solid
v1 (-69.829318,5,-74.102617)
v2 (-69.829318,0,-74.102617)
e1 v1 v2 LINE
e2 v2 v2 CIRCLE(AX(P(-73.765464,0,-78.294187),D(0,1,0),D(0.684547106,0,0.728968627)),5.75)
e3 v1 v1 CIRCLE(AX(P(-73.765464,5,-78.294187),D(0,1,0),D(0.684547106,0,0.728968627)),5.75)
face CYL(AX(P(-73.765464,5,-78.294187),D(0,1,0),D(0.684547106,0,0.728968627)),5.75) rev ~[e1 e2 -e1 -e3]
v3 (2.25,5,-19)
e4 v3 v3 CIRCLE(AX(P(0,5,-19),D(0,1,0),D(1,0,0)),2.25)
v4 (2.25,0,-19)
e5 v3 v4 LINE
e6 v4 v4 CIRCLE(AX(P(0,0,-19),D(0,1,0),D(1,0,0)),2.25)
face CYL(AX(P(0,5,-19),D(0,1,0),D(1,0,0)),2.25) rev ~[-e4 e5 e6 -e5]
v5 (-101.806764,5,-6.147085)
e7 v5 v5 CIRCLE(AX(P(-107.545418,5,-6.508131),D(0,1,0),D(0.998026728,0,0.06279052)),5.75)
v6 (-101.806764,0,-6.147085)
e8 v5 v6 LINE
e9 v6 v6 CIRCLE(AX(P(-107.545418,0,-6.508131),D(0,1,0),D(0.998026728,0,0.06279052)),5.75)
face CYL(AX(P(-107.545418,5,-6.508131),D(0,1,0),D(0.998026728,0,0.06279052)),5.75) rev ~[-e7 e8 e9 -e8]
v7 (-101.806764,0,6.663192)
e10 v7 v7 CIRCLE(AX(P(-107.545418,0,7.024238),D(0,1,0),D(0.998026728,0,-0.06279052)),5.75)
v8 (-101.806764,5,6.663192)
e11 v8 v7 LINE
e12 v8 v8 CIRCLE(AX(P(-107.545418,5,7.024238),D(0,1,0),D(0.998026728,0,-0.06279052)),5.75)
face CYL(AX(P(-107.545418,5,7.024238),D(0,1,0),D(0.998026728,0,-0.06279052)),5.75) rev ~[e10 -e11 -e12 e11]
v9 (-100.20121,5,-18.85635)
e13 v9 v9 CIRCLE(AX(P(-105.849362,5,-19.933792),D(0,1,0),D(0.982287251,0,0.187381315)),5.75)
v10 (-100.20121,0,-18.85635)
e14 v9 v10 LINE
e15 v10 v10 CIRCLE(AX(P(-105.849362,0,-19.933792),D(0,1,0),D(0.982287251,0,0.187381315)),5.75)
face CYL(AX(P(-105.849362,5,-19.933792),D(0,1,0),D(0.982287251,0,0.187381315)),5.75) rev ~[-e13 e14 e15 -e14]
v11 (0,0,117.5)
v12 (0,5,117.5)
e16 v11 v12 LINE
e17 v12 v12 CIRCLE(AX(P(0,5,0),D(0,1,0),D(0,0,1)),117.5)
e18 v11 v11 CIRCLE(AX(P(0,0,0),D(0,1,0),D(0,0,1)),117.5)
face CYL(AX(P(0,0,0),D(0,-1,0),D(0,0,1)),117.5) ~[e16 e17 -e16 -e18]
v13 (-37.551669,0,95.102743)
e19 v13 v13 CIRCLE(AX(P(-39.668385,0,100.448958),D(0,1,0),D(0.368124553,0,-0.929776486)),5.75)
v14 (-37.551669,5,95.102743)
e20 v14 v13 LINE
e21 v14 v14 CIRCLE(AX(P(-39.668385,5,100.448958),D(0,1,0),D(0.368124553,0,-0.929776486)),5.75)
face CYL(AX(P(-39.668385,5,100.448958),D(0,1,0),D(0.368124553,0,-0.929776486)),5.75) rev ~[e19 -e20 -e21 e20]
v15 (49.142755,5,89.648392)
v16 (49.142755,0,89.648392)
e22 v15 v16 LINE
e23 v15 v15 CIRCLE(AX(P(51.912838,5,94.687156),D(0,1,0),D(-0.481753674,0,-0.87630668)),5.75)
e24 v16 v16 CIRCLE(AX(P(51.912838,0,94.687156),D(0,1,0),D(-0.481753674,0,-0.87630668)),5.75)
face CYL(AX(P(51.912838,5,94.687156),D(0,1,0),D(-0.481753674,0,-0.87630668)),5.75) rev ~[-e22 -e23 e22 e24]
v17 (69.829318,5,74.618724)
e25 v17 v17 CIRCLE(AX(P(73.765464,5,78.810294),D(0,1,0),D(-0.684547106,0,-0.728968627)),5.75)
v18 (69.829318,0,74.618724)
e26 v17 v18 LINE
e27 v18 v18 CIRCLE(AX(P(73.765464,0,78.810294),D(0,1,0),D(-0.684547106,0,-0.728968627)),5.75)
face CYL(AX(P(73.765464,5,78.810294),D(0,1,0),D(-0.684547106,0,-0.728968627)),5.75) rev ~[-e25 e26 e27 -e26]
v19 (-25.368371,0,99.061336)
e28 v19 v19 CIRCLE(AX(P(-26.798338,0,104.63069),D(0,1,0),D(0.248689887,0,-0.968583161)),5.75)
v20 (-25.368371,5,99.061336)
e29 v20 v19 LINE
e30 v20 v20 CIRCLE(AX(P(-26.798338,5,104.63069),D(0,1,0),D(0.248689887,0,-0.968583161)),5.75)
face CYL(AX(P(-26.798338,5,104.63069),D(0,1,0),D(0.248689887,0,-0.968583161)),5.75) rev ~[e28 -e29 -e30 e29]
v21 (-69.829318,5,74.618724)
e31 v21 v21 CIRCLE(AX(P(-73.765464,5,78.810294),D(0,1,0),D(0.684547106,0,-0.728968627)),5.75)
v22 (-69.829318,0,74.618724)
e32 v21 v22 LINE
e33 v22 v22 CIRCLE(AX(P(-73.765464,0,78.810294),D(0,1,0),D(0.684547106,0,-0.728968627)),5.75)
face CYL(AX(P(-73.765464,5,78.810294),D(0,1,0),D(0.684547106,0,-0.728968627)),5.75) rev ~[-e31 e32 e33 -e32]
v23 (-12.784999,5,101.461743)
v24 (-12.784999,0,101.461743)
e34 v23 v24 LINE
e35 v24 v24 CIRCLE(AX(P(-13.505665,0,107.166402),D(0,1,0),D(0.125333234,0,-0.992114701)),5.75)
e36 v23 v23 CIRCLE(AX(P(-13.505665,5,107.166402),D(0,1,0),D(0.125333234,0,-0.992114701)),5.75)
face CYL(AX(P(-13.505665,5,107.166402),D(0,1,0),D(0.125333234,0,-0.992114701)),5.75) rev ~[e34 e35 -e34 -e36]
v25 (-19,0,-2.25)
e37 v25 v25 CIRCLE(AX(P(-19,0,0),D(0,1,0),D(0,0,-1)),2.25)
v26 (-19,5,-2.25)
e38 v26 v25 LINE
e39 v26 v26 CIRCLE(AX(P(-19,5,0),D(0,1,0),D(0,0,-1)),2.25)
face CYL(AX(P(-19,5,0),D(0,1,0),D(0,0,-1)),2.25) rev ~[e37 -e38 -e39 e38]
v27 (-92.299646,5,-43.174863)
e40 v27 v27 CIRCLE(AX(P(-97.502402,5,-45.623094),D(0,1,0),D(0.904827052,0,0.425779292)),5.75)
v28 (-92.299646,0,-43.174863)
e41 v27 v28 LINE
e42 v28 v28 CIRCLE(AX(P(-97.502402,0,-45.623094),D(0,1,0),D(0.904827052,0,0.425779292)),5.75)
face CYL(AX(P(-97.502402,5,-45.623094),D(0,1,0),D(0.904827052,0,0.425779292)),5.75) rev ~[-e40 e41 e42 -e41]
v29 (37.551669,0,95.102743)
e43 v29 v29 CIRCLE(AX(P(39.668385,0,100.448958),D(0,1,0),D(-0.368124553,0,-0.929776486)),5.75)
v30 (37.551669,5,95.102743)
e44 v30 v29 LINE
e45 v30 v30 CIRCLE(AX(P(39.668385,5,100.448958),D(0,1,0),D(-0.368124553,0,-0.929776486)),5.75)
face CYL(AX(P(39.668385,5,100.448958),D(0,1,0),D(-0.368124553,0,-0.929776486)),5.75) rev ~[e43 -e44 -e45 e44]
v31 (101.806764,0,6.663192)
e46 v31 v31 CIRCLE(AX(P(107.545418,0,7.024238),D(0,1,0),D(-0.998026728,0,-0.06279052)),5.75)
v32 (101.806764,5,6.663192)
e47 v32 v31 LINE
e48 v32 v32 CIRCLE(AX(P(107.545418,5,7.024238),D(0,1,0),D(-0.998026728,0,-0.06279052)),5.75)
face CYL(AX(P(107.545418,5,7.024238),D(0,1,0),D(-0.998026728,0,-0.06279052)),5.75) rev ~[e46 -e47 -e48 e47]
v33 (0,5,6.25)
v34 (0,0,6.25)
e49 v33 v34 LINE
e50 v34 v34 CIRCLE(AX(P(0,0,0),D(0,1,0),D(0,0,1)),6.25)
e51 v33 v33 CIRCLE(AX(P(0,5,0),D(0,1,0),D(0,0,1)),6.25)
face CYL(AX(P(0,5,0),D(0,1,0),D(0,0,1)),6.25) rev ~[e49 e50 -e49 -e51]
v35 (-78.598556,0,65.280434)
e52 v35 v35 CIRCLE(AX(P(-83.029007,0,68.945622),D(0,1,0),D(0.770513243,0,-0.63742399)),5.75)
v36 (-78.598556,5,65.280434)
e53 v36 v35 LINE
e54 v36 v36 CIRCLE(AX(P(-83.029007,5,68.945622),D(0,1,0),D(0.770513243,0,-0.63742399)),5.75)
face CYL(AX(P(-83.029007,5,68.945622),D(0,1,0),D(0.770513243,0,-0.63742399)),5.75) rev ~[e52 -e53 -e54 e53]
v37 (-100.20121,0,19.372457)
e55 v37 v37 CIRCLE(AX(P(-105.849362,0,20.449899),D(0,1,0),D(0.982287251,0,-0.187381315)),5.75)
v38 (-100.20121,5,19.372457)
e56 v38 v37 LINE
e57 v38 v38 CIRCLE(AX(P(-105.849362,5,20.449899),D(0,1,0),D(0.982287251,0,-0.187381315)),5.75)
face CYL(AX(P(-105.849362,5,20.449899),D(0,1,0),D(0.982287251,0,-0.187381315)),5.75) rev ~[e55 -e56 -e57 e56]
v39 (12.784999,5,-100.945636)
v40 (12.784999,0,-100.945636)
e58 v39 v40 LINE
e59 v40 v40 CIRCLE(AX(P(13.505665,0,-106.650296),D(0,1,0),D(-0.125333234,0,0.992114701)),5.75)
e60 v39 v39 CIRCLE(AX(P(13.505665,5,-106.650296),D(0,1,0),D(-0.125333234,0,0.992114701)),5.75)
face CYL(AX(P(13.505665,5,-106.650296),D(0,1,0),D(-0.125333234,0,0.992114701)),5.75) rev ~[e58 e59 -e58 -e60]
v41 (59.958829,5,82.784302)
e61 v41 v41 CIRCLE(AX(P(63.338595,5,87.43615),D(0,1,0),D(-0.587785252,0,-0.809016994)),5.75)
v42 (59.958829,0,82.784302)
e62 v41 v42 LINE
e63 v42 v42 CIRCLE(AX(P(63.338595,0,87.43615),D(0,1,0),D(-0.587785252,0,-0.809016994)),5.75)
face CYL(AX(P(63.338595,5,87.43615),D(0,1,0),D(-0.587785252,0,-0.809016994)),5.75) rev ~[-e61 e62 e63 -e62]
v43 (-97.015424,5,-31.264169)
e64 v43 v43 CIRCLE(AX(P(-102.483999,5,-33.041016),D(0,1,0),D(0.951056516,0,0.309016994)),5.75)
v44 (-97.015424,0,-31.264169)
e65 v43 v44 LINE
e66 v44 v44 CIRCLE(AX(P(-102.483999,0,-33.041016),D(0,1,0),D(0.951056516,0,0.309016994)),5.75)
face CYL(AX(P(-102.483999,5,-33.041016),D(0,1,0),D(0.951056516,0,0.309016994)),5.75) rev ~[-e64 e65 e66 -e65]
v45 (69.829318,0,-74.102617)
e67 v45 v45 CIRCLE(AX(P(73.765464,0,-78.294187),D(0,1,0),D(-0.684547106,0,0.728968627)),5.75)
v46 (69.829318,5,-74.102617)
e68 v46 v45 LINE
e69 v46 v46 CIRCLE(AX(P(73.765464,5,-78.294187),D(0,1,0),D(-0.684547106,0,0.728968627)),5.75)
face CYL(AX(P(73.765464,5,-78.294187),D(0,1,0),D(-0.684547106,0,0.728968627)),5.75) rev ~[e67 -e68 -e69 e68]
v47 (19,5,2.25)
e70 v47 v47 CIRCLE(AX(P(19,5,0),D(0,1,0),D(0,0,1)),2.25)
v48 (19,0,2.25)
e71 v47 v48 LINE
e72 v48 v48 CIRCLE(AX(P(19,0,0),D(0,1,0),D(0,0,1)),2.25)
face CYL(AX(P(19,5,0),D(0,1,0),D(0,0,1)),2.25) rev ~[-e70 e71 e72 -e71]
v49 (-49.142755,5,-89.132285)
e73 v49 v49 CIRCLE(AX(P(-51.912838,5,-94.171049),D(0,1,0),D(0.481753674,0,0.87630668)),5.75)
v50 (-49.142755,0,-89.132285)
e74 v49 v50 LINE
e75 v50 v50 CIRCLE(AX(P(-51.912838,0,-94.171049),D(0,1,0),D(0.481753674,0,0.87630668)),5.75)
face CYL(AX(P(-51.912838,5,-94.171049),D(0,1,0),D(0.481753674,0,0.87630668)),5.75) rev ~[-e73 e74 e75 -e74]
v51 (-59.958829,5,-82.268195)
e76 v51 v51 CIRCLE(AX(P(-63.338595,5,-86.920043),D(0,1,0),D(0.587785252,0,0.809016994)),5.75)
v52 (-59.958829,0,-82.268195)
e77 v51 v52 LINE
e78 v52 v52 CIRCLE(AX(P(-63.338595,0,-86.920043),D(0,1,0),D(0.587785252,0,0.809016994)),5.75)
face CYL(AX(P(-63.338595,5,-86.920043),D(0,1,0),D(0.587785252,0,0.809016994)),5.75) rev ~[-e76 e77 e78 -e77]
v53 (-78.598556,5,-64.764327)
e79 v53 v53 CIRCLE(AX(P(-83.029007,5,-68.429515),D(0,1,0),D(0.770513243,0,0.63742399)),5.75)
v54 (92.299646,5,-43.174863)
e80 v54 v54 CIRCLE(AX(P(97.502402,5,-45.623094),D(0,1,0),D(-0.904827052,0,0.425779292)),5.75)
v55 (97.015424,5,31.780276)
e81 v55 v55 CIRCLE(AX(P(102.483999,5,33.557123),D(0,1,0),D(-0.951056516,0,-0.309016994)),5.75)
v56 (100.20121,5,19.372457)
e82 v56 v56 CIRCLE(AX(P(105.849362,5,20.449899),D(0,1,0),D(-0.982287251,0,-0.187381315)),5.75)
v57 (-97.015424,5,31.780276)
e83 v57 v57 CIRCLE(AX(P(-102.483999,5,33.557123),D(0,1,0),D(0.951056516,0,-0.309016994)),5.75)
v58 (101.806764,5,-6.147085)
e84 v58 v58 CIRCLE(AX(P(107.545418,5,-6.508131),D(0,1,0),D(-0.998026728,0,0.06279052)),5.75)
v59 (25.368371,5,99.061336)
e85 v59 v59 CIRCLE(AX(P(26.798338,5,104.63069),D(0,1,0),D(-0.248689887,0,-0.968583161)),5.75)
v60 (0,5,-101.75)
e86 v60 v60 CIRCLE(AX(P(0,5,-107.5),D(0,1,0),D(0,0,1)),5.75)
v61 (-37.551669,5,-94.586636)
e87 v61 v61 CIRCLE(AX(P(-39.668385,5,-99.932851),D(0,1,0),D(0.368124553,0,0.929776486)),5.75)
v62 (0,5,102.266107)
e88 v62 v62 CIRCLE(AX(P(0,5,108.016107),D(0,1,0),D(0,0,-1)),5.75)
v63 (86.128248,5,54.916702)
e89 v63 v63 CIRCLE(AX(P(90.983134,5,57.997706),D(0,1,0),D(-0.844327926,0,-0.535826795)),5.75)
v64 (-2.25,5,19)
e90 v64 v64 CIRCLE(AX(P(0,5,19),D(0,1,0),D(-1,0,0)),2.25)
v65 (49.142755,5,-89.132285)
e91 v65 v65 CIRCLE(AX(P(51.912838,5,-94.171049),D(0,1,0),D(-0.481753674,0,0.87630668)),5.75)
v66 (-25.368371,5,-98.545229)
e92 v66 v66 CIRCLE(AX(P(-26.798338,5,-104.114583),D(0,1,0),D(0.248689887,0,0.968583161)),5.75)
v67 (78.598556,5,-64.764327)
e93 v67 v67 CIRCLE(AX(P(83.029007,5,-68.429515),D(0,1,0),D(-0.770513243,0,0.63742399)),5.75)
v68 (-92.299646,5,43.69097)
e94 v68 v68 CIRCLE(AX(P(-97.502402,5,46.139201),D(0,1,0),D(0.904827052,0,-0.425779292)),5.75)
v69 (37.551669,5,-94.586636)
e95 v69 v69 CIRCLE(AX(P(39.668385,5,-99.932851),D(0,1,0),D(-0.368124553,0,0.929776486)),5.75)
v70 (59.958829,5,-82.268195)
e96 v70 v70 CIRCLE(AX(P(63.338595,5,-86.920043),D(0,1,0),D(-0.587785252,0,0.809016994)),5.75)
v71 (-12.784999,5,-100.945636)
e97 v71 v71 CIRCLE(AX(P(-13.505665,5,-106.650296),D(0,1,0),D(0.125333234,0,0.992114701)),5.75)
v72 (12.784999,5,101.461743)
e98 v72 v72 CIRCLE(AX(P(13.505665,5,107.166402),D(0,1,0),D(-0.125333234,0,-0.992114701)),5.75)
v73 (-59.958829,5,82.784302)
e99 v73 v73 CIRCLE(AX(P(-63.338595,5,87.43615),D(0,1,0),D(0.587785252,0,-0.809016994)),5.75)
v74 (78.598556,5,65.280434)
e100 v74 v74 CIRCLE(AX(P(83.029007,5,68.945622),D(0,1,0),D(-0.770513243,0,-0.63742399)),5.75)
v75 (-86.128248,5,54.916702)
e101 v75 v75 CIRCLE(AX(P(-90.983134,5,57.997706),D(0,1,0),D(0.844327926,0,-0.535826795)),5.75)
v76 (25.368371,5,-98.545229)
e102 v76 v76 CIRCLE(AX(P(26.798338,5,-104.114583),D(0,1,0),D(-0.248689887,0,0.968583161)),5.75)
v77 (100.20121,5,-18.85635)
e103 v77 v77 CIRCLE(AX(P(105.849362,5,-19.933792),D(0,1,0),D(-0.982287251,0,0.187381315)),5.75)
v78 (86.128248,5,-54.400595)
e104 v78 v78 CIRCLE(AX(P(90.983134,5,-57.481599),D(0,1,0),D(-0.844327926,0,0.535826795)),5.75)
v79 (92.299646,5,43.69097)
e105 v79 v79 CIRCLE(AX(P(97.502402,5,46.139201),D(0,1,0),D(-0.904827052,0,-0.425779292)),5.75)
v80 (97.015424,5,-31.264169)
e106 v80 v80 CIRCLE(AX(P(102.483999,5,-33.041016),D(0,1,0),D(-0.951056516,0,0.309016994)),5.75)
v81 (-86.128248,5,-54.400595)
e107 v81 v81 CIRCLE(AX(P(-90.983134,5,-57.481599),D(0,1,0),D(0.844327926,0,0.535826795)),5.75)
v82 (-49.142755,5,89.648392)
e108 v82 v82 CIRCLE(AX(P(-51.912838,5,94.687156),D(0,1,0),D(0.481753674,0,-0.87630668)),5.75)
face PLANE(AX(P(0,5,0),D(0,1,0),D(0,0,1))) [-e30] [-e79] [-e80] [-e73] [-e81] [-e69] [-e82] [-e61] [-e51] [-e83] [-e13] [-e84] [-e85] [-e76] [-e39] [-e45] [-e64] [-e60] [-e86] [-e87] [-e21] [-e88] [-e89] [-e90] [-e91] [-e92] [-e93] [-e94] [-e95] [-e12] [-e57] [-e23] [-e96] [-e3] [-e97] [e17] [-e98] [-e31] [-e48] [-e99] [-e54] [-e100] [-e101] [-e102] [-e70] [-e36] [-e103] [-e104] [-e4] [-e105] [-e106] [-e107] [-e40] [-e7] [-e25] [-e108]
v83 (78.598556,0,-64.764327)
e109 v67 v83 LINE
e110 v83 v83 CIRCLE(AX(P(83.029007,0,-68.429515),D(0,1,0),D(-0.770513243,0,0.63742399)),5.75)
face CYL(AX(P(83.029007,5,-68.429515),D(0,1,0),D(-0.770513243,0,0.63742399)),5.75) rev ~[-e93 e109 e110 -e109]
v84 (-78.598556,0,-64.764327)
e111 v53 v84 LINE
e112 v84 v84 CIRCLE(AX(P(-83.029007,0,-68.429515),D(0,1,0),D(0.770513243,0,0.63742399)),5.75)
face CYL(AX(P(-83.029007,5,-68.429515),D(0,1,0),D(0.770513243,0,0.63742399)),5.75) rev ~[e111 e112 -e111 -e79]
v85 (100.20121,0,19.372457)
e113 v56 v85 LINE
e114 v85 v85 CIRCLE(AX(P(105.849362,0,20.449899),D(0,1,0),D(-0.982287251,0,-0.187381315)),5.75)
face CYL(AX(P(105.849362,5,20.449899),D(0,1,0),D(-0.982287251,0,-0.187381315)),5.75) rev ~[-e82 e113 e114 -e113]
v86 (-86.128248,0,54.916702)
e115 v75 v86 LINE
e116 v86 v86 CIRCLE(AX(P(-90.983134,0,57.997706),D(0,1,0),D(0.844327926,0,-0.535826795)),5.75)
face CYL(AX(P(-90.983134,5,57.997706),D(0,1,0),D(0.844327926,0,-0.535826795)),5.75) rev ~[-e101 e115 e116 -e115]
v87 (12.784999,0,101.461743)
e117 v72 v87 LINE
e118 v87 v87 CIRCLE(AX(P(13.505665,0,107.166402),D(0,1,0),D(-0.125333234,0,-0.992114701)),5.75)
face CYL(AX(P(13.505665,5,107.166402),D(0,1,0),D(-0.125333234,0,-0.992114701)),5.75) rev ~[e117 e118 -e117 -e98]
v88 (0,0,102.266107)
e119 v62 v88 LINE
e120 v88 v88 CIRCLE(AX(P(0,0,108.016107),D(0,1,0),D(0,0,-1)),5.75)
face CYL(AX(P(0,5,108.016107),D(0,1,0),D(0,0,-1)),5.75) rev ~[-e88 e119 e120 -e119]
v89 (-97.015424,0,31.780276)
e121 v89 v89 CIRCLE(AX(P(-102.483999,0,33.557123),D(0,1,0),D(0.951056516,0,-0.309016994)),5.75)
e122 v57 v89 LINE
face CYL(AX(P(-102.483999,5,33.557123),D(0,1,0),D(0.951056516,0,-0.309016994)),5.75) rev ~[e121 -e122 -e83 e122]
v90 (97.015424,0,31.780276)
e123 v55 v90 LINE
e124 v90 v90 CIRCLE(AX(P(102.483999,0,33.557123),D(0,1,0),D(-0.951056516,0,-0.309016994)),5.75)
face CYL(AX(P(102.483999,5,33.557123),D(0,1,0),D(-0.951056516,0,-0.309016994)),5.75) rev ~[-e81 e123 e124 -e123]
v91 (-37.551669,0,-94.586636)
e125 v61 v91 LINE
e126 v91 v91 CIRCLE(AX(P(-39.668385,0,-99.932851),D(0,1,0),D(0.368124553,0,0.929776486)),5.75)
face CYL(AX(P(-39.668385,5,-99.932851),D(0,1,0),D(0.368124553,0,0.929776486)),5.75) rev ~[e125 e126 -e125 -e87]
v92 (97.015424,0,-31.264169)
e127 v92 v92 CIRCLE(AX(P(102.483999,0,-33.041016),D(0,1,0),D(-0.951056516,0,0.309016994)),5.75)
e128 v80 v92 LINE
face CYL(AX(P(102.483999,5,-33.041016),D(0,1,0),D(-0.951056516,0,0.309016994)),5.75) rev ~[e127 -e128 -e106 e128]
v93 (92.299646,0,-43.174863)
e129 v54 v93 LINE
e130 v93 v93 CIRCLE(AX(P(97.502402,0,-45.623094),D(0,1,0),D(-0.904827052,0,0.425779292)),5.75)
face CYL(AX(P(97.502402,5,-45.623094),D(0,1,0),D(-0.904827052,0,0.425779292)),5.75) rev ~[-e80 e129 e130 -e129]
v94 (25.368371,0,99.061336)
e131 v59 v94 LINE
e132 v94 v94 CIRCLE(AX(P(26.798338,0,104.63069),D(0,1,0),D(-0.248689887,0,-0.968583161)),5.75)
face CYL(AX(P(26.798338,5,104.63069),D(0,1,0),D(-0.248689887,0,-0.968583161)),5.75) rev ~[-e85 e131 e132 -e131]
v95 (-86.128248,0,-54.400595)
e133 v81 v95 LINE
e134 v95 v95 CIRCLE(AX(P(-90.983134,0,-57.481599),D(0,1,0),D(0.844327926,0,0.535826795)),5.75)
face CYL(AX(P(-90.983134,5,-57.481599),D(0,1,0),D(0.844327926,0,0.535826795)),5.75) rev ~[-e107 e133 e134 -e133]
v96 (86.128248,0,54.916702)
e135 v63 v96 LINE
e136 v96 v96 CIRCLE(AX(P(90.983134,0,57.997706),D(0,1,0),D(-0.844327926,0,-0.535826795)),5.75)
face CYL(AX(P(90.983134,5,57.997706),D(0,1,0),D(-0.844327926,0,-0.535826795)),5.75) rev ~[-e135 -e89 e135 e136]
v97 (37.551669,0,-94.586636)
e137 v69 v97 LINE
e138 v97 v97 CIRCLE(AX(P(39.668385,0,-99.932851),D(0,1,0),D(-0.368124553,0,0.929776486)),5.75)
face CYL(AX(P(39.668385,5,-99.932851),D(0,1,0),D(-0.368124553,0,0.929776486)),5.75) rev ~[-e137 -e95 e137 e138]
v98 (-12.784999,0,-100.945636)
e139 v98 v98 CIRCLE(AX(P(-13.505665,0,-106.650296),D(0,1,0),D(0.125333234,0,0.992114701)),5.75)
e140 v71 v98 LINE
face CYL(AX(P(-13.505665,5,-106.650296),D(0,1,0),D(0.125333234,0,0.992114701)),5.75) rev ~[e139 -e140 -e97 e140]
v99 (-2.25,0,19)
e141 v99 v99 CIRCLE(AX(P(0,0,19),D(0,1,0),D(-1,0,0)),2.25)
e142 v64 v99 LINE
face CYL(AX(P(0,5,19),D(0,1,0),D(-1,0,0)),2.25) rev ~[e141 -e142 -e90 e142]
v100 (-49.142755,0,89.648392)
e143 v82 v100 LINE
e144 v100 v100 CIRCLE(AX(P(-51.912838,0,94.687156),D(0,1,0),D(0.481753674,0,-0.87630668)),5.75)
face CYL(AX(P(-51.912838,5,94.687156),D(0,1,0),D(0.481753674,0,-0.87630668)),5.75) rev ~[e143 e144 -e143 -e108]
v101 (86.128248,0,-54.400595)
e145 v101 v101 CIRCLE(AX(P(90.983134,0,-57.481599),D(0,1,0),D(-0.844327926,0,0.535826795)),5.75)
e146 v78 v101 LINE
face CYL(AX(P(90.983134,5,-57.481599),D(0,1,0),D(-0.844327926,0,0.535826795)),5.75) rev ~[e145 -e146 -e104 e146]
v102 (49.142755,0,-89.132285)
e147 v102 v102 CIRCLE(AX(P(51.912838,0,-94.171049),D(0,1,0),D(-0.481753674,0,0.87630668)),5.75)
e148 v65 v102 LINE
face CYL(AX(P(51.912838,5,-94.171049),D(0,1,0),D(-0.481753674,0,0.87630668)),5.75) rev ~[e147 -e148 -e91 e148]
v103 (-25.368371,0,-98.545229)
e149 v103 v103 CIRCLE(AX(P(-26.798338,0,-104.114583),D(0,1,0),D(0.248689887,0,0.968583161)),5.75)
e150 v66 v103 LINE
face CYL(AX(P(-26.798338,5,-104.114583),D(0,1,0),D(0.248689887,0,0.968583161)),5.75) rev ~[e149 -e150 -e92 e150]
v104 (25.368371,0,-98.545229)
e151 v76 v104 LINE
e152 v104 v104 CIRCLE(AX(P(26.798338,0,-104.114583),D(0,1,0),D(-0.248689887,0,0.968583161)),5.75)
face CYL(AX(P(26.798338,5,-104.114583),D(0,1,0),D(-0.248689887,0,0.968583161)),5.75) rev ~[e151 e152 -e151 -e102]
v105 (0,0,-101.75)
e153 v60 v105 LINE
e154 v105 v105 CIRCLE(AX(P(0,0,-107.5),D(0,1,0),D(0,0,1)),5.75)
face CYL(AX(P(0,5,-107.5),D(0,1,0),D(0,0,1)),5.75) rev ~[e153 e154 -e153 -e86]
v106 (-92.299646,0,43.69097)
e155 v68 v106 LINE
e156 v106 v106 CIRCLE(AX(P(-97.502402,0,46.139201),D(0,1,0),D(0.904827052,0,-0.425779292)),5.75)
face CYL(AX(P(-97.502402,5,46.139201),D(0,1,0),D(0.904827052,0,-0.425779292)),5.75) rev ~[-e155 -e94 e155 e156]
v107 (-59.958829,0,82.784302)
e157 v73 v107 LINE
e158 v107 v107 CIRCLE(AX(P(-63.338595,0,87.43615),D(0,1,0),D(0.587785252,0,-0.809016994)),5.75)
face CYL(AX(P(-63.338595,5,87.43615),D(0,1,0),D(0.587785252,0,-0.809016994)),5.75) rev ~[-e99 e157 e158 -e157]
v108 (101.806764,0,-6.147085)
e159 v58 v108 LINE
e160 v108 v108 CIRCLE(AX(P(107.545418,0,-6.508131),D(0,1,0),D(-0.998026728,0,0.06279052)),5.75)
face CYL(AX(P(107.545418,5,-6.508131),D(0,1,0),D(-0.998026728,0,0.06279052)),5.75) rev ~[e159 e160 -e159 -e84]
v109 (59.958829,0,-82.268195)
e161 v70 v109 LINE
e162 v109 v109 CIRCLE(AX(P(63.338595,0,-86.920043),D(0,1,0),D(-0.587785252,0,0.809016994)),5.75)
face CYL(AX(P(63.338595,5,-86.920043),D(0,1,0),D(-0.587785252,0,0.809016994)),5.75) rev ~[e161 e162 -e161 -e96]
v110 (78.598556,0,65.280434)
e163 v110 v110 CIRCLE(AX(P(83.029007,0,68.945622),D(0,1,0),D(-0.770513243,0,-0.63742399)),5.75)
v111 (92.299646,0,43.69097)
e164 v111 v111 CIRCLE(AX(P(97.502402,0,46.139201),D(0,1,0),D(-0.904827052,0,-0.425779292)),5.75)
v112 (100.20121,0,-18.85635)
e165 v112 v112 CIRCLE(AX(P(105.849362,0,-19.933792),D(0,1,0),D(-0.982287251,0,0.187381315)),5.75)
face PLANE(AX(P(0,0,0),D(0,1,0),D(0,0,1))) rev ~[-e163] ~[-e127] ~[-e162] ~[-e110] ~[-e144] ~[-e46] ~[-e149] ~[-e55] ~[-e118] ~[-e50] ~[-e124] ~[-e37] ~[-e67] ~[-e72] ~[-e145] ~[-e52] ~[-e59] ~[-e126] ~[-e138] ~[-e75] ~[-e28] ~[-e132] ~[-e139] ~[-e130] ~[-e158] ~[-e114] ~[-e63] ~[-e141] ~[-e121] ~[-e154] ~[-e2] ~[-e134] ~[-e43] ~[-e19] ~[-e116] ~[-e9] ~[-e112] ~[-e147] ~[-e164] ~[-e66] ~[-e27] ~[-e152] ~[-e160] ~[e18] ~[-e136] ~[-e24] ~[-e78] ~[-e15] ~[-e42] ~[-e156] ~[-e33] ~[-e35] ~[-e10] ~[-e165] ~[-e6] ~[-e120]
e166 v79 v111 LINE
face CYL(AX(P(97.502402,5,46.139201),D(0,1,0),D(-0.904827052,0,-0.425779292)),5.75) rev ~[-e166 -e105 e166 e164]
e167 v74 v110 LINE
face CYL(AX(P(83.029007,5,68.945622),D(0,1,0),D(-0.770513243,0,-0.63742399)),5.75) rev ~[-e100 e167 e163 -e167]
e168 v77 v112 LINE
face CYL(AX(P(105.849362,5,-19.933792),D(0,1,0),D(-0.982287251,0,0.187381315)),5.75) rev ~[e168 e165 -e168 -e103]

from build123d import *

# Parameters (mm, degrees)
SKETCH1_R           = 117.5
BOSS_EXTRUDE1_DEPTH = 5
SKETCH2_R           = 5.75
CUT_EXTRUDE1_DEPTH  = 167.245300685
CIRPATTERN1_COUNT   = 50
SKETCH3_R           = 6.25
CUT_EXTRUDE2_DEPTH  = 167.245300685
SKETCH4_R           = 2.25
CUT_EXTRUDE3_DEPTH  = 167.245300685
CIRPATTERN2_COUNT   = 4


with BuildPart() as part:
    # Sketch1 → Boss-Extrude1 (new body)
    with BuildSketch(Plane(origin=(0, 0, 0), x_dir=(1, 0, 0), z_dir=(0, 1, 0))):
        with Locations(Location((0, 0, 0), (0, 0, 270))):
            Circle(SKETCH1_R)
    extrude(amount=BOSS_EXTRUDE1_DEPTH)

    # Sketch2 → Cut-Extrude1 (cut, through all)
    with BuildSketch(Plane(origin=(0, 5, 0), x_dir=(1, 0, 0), z_dir=(0, 1, 0))):
        with Locations(Location((0, 107.5, 0), (0, 0, 270))):
            Circle(SKETCH2_R)
    cut_extrude1 = extrude(amount=-CUT_EXTRUDE1_DEPTH, mode=Mode.SUBTRACT)

    # CirPattern1: Cut-Extrude1 ×50 about axis
    cirpattern1_axis = Axis((0, 0, 0.258053464), (0, 1, 0))
    for i in range(1, CIRPATTERN1_COUNT):
        add(cut_extrude1.rotate(cirpattern1_axis, i * 360 / CIRPATTERN1_COUNT), mode=Mode.SUBTRACT)

    # Sketch3 → Cut-Extrude2 (cut, through all)
    with BuildSketch(Plane(origin=(0, 5, 0), x_dir=(1, 0, 0), z_dir=(0, 1, 0))):
        with Locations(Location((0, 0, 0), (0, 0, 270))):
            Circle(SKETCH3_R)
    extrude(amount=-CUT_EXTRUDE2_DEPTH, mode=Mode.SUBTRACT)

    # Sketch4 → Cut-Extrude3 (cut, through all)
    with BuildSketch(Plane(origin=(0, 5, 0), x_dir=(1, 0, 0), z_dir=(0, 1, 0))):
        with Locations(Location((19, 0, 0), (0, 0, 270))):
            Circle(SKETCH4_R)
    cut_extrude3 = extrude(amount=-CUT_EXTRUDE3_DEPTH, mode=Mode.SUBTRACT)

    # CirPattern2: Cut-Extrude3 ×4 about axis
    cirpattern2_axis = Axis((0, 0, 0), (0, 1, 0))
    for i in range(1, CIRPATTERN2_COUNT):
        add(cut_extrude3.rotate(cirpattern2_axis, i * 360 / CIRPATTERN2_COUNT), mode=Mode.SUBTRACT)


solid = part.part
